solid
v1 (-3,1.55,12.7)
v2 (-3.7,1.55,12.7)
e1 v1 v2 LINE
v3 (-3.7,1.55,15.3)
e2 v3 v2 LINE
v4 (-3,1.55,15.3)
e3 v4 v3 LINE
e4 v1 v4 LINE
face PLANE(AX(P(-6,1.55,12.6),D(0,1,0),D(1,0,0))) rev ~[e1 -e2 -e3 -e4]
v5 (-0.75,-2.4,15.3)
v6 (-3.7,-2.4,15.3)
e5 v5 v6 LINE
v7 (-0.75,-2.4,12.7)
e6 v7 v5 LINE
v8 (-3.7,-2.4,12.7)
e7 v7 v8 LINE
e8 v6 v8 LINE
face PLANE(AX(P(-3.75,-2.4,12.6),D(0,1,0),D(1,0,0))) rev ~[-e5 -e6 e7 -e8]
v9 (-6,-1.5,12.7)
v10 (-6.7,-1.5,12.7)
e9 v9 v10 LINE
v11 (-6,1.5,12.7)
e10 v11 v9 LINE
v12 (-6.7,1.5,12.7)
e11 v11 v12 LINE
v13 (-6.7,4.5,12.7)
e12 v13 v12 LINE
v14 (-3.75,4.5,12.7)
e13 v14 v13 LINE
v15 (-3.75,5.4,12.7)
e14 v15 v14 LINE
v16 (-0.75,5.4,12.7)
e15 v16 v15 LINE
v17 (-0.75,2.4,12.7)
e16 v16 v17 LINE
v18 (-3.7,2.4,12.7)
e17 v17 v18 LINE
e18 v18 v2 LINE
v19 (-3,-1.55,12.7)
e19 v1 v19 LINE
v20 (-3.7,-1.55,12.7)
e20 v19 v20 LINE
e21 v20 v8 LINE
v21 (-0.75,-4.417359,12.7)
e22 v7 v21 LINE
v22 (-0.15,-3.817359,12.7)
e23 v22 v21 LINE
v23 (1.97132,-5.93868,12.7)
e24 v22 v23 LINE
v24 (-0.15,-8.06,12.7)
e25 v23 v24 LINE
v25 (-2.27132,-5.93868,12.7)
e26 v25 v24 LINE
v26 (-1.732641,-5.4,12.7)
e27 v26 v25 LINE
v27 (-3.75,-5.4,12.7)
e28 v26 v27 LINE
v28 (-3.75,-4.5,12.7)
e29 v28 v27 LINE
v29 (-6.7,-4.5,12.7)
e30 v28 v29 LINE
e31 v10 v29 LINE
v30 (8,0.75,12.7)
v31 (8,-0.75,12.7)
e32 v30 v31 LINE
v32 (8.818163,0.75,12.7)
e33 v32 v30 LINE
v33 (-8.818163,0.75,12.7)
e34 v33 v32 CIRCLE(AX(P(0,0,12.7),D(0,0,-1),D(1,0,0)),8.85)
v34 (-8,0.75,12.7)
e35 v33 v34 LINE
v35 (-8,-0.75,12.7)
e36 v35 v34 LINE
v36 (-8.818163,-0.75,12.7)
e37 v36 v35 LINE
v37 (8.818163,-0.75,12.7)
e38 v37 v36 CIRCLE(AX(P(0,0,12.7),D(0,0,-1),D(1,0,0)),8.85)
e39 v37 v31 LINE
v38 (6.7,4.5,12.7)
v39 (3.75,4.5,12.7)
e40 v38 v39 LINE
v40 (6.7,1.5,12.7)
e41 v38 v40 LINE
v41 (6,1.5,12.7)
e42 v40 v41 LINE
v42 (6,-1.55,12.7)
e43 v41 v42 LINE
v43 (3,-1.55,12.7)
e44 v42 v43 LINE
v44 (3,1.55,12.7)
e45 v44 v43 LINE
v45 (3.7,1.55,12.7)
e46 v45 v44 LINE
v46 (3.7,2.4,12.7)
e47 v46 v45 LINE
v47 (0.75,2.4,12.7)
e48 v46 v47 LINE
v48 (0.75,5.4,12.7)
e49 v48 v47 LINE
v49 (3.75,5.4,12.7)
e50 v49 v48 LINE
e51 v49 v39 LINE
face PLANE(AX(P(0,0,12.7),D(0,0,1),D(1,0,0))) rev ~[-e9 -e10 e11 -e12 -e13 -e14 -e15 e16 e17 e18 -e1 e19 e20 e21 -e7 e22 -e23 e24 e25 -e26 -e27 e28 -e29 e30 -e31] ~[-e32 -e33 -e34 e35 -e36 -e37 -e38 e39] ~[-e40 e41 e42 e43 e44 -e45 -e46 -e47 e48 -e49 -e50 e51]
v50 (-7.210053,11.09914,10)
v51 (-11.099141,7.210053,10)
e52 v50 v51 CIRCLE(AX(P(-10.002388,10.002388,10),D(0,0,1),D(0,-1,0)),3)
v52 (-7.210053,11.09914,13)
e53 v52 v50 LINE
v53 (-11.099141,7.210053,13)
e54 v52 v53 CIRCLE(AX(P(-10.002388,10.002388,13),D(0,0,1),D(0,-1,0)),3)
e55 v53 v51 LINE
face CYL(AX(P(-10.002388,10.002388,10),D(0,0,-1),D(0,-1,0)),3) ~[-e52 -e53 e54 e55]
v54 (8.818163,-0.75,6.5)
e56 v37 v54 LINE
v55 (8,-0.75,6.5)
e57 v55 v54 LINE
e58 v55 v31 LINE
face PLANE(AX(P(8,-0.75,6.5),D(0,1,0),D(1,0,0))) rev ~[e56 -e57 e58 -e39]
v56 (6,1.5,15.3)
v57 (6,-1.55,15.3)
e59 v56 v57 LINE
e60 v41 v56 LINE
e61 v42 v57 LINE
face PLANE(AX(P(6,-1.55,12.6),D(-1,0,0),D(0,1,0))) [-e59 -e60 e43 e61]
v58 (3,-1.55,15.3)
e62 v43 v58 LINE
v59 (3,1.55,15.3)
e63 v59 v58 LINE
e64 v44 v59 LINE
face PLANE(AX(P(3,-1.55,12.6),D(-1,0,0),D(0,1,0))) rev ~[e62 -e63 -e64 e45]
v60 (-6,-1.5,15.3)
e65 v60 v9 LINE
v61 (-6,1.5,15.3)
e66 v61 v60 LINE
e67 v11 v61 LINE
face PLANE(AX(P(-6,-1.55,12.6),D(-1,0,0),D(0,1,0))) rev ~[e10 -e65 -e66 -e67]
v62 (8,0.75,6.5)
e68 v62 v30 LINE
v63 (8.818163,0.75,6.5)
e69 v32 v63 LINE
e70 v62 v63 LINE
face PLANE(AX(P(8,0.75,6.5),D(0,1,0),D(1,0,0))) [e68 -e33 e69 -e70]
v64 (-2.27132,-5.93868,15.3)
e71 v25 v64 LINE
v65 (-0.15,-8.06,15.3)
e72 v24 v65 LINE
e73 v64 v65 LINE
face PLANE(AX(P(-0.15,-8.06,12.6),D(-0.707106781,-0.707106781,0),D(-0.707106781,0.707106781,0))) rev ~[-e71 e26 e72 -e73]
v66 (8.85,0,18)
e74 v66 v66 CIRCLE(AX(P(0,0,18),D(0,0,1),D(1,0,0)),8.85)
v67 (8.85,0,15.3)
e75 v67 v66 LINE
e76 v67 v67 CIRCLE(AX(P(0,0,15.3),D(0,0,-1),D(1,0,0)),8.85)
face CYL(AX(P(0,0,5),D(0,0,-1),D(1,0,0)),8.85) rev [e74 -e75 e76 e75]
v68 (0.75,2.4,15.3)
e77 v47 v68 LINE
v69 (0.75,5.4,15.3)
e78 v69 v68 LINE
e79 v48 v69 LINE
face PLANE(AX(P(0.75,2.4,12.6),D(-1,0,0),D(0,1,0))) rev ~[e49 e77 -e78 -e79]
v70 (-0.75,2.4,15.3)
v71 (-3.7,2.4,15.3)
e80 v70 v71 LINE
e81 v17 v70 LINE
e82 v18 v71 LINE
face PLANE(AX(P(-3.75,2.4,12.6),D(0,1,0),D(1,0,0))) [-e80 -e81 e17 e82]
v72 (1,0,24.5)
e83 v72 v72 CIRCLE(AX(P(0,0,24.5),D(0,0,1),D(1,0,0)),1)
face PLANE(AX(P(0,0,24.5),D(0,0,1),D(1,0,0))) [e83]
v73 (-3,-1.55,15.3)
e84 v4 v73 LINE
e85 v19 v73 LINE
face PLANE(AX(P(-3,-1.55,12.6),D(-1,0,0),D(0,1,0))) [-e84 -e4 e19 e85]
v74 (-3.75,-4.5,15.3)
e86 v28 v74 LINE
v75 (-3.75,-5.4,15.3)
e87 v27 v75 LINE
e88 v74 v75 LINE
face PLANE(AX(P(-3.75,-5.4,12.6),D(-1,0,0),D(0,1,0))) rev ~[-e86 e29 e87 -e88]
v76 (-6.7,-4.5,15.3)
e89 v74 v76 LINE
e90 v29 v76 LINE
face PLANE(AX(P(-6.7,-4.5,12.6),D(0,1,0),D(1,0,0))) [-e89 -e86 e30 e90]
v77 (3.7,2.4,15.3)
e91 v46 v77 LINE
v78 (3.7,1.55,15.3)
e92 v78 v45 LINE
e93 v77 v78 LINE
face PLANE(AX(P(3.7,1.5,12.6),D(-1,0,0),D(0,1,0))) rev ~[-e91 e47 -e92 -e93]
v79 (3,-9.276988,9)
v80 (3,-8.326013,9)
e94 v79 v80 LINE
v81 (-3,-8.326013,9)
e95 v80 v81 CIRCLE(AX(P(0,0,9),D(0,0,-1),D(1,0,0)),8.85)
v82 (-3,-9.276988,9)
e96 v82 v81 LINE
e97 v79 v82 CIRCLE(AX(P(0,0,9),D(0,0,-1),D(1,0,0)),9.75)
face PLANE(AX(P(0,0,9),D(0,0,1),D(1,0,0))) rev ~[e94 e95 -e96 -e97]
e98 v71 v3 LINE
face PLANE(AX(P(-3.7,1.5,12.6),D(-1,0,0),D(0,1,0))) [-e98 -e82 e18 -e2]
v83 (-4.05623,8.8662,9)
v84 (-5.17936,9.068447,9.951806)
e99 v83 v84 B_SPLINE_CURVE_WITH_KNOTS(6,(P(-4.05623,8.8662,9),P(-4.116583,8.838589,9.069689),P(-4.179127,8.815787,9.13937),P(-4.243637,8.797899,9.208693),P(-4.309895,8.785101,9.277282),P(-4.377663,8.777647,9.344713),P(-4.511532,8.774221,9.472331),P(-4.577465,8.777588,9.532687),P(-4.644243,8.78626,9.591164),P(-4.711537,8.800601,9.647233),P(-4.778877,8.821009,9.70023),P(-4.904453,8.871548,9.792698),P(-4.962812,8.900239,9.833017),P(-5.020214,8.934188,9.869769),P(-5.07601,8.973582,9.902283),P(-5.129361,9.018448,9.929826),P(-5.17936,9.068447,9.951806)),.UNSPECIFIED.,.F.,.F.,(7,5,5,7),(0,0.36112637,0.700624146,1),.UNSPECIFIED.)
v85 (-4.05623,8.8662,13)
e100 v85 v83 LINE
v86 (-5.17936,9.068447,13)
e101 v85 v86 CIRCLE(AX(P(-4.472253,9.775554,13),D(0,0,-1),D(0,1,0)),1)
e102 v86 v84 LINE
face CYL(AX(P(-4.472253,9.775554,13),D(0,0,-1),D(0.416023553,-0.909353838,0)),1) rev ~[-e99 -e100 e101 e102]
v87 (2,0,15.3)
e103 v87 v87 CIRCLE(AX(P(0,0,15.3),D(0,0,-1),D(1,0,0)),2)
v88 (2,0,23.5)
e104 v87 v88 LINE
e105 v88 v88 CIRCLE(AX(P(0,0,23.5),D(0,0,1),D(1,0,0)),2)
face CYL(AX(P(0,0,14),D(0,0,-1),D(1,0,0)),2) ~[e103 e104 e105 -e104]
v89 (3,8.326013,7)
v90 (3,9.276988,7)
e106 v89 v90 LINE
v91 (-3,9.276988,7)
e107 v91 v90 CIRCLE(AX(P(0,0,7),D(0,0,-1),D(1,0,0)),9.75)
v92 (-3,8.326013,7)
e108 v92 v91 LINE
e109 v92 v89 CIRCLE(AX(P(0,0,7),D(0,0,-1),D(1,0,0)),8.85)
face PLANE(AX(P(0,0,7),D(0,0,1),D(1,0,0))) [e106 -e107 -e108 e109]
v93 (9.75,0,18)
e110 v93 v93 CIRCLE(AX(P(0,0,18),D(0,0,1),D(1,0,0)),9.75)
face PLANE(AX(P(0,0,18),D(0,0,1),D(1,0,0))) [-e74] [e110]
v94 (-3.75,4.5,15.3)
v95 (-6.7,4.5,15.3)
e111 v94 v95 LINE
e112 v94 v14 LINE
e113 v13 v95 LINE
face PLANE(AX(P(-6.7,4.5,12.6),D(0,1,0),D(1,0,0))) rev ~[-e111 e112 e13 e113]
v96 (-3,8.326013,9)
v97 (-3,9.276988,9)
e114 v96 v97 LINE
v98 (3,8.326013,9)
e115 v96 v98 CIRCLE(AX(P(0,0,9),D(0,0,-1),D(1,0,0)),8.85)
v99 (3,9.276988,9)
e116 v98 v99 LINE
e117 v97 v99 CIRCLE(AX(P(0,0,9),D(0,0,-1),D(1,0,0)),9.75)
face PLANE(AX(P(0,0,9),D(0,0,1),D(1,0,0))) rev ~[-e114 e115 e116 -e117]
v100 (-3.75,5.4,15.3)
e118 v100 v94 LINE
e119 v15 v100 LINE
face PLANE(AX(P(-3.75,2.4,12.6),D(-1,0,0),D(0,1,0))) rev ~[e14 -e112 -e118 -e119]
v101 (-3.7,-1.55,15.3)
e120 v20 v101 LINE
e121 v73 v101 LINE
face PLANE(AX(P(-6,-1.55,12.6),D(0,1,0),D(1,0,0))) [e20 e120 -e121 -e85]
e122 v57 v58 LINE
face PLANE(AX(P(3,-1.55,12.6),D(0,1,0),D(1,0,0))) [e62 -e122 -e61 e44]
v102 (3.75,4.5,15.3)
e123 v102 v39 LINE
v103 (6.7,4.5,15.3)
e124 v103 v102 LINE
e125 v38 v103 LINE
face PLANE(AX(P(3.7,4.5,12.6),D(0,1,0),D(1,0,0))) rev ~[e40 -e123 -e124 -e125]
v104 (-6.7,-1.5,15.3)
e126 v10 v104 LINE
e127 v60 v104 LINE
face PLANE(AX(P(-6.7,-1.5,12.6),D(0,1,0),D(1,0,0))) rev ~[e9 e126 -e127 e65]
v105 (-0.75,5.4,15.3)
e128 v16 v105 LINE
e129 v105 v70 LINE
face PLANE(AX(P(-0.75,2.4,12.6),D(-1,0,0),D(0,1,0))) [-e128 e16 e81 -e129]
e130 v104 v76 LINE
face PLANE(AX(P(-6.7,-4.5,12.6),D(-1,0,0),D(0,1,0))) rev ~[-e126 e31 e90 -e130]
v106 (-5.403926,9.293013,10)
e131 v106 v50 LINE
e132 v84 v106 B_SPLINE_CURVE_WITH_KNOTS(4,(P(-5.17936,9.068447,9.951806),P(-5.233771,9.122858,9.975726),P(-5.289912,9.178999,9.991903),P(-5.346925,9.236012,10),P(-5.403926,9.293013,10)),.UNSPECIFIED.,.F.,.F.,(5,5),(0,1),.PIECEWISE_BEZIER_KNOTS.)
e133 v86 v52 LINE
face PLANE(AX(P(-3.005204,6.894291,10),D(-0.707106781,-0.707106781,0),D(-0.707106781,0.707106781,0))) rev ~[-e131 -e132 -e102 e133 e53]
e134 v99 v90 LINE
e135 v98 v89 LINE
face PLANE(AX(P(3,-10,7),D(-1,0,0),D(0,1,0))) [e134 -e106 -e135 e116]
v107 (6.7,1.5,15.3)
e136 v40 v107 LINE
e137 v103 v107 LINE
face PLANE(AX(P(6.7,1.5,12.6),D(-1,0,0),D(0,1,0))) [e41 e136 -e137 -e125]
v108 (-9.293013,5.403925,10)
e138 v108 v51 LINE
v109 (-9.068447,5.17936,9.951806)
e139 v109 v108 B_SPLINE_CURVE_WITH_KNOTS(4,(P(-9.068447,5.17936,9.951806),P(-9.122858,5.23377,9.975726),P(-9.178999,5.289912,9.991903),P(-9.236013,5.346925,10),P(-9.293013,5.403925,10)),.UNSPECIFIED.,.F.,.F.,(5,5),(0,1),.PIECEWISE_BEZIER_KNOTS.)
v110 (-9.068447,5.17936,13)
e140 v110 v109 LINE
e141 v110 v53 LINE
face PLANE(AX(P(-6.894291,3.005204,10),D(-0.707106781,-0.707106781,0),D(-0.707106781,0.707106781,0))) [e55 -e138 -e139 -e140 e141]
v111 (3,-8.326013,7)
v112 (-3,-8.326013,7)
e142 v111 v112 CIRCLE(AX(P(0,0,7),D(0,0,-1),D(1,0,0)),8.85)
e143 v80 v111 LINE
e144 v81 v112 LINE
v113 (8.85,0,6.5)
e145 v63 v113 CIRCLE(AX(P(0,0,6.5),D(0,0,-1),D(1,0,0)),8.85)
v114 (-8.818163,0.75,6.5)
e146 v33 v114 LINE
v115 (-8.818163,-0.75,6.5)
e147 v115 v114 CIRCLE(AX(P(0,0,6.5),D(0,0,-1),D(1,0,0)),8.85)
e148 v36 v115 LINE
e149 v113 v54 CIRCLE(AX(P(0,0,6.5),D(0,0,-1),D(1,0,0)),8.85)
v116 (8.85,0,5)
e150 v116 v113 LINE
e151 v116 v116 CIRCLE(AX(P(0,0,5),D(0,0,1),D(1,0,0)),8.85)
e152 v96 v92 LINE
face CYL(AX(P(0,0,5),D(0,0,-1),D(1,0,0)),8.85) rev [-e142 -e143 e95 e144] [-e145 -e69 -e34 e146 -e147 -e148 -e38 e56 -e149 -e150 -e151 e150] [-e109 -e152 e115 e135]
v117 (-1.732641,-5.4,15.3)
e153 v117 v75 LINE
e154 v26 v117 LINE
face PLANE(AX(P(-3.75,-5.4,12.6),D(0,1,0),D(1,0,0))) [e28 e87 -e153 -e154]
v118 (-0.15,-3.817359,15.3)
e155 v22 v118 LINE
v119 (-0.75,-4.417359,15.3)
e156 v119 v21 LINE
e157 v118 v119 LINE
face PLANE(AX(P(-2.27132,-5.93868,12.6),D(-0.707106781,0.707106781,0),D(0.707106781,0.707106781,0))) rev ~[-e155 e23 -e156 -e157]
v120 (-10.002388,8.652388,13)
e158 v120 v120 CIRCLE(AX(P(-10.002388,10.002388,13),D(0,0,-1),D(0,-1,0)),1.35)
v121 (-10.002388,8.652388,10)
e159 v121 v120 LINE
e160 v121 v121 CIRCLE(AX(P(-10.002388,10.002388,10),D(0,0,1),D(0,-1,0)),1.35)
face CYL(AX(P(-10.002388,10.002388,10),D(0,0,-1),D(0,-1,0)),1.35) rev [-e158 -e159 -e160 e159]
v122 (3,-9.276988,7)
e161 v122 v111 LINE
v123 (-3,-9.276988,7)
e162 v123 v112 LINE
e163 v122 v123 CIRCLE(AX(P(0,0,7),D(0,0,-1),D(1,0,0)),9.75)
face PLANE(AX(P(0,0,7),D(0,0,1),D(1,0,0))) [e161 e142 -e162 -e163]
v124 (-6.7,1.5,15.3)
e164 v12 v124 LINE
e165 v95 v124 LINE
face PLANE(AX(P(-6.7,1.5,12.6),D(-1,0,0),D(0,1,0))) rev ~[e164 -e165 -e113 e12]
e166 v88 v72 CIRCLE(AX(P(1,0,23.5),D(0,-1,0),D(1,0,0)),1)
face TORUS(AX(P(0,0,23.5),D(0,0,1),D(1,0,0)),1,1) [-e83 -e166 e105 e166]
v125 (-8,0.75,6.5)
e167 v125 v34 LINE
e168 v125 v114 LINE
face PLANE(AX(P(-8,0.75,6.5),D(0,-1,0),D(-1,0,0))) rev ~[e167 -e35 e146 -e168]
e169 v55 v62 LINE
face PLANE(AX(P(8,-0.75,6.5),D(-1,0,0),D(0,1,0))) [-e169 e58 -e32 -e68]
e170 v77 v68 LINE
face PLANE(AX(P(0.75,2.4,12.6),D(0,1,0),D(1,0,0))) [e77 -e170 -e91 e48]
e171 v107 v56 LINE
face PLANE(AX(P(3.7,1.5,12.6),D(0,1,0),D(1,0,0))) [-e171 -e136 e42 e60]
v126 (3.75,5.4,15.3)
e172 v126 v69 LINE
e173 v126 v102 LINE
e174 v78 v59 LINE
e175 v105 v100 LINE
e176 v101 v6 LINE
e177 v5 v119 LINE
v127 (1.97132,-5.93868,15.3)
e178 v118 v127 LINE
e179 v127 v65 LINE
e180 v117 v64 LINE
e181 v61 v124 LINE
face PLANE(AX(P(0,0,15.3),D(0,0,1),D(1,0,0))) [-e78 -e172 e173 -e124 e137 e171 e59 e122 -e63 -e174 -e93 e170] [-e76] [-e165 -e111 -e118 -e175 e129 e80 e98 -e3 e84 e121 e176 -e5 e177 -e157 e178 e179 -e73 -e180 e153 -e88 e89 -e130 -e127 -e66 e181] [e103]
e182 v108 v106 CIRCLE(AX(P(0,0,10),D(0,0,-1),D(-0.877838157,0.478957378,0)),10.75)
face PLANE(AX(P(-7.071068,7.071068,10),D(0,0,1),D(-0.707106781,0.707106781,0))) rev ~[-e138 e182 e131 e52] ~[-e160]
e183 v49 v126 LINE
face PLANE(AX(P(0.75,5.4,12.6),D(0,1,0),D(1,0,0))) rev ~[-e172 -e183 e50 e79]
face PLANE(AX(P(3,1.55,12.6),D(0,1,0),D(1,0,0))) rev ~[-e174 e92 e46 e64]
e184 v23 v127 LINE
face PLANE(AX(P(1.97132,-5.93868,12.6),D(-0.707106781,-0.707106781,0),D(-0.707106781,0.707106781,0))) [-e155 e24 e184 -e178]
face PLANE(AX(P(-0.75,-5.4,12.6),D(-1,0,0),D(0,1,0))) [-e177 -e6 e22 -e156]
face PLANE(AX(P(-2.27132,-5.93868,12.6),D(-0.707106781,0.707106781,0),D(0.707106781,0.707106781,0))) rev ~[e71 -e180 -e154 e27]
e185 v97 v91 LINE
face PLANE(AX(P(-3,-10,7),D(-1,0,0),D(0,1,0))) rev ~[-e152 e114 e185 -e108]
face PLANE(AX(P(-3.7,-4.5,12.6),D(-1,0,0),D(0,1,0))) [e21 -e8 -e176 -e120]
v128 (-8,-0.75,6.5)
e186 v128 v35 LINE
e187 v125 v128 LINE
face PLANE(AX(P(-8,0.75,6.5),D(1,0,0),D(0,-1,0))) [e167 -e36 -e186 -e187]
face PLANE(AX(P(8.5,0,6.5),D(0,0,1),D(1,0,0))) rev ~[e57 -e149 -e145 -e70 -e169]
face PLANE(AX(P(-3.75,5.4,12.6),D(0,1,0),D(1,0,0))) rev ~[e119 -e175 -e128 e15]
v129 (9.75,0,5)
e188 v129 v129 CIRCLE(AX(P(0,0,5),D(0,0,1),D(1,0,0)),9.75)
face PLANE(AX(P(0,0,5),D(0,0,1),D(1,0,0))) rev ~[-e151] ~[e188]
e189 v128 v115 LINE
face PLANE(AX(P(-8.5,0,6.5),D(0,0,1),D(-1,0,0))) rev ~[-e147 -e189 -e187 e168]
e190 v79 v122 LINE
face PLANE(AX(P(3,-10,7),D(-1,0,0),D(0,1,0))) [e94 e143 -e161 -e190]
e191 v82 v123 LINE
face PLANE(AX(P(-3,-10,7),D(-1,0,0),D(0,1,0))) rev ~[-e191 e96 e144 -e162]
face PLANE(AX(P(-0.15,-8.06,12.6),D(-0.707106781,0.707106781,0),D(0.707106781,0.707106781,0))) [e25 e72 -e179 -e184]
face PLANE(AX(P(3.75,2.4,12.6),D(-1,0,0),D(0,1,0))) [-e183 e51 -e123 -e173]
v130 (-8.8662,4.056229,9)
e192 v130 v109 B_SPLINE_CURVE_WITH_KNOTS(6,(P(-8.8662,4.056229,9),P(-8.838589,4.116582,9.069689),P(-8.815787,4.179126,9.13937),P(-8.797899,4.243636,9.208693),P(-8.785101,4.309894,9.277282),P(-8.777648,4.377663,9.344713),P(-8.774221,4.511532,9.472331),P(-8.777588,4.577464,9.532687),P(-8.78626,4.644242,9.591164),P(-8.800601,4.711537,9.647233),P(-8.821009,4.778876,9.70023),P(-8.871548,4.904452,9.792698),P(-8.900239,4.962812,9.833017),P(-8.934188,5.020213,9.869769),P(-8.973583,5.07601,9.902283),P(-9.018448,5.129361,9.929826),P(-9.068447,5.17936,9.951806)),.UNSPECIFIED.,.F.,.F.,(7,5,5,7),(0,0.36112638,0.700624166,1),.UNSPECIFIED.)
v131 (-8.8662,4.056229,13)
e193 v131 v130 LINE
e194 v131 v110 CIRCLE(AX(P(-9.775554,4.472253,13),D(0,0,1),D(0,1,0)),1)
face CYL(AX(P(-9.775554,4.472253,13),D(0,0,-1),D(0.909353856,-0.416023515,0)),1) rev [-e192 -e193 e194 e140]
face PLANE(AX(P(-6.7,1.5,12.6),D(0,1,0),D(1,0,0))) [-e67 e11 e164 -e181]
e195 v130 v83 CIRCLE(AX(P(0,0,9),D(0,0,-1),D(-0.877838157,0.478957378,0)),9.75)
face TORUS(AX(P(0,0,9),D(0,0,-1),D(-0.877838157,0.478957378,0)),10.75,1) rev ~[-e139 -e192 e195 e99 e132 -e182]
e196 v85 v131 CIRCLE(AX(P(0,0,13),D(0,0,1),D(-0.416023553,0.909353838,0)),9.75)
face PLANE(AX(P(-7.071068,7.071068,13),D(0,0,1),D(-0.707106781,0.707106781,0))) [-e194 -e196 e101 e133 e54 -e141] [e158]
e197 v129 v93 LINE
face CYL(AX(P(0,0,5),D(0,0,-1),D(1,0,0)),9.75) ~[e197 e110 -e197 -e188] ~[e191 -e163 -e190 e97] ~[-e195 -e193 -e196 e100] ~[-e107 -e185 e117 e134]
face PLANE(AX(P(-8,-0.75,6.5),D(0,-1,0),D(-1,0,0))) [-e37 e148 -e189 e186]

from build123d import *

# Parameters (mm, degrees)
BOX006_W               = 6
BOX006_H               = 20
BOX006_DEPTH           = 2
CYLINDER022_R          = 8.85
CYLINDER022_DEPTH      = 15
CYLINDER019_R          = 1.35
CYLINDER019_DEPTH      = 5
CYLINDER002_R          = 3
CYLINDER002_DEPTH      = 3
CYLINDER018_R          = 8.85
CYLINDER018_DEPTH      = 13
CYLINDER017_R          = 9.75
CYLINDER017_DEPTH      = 13
BOX_W                  = 6
BOX_H                  = 5.5
BOX_DEPTH              = 3
BOX_PLACEMENT_ANGLE    = 135
BOX005_W               = 1
BOX005_H               = 1.5
BOX005_DEPTH           = 7.7
BOX004_W               = 1
BOX004_H               = 1.5
BOX004_DEPTH           = 7.7
FILLET003_R            = 1
BOX015_W               = 3
BOX015_H               = 3
BOX015_DEPTH           = 2.8
BOX016_W               = 3
BOX016_H               = 3.1
BOX016_DEPTH           = 2.8
BOX014_W               = 3
BOX014_H               = 3
BOX014_DEPTH           = 2.8
BOX013_W               = 3
BOX013_H               = 3
BOX013_DEPTH           = 2.8
BOX012_W               = 3
BOX012_H               = 3.1
BOX012_DEPTH           = 2.8
BOX011_W               = 3
BOX011_H               = 3
BOX011_DEPTH           = 2.8
BOX010_W               = 3
BOX010_H               = 3
BOX010_DEPTH           = 2.8
BOX009_W               = 3
BOX009_H               = 3
BOX009_DEPTH           = 2.8
BOX009_PLACEMENT_ANGLE = 45
BOX017_W               = 3
BOX017_H               = 3
BOX017_DEPTH           = 2.8
CYLINDER044_R          = 9
CYLINDER044_DEPTH      = 2.6
CYLINDER001_R          = 2
CYLINDER001_DEPTH      = 10.5
FILLET_R               = 1


with BuildPart() as cube006:
    # Box006 → Box006 (new body)
    with BuildSketch(Plane(origin=(-3, -10, -3), x_dir=(1, 0, 0), z_dir=(0, 0, 1))):
        with Locations((3, 10)):
            Rectangle(BOX006_W, BOX006_H)
    extrude(amount=BOX006_DEPTH)


with BuildPart() as cylinder022:
    # Cylinder022 → Cylinder022 (new body)
    with BuildSketch(Plane.XY.offset(-6)):
        Circle(CYLINDER022_R)
    extrude(amount=CYLINDER022_DEPTH)


with BuildPart() as cylinder019:
    # Cylinder019 → Cylinder019 (new body)
    with BuildSketch(Plane(origin=(-10.002388, 10.002388, 0), x_dir=(0, -1, 0), z_dir=(0, 0, 1))):
        Circle(CYLINDER019_R)
    extrude(amount=CYLINDER019_DEPTH)


with BuildPart() as attachement_point:
    # Cylinder002 → Cylinder002 (new body)
    with BuildSketch(Plane(origin=(-10.002388, 10.002388, 0), x_dir=(0, -1, 0), z_dir=(0, 0, 1))):
        Circle(CYLINDER002_R)
    extrude(amount=CYLINDER002_DEPTH)


with BuildPart() as negative:
    # Cylinder018 → Cylinder018 (new body)
    with BuildSketch(Plane.XY.offset(-5)):
        Circle(CYLINDER018_R)
    extrude(amount=CYLINDER018_DEPTH)


with BuildPart() as outer_wall:
    # Cylinder017 → Cylinder017 (new body)
    with BuildSketch(Plane.XY.offset(-5)):
        Circle(CYLINDER017_R)
    extrude(amount=CYLINDER017_DEPTH)

    # Cut008: cut Negative
    add(negative.part, mode=Mode.SUBTRACT)


with BuildPart() as connect:
    # Box → Box (new body)
    with BuildSketch(Plane.XY):
        with Locations((3, 2.75)):
            Rectangle(BOX_W, BOX_H)
    extrude(amount=BOX_DEPTH)


with BuildPart() as connect_1:
    # Box placement: moved
    add(connect.part.moved(Location((-3.005204, 6.894291, 0))).rotate(Axis((-3.005204, 6.894291, 0), (0, 0, 1)), BOX_PLACEMENT_ANGLE))

    # Fusion008: union Attachement Point, Outer Wall
    add(attachement_point.part)
    add(outer_wall.part)

    # Cut: cut Cylinder019
    add(cylinder019.part, mode=Mode.SUBTRACT)

    # Cut009: cut Cylinder022
    add(cylinder022.part, mode=Mode.SUBTRACT)


with BuildPart() as cube005:
    # Box005 → Box005 (new body)
    with BuildSketch(Plane(origin=(-8, 0.75, -3.5), x_dir=(-1, 0, 0), z_dir=(0, 0, 1))):
        with Locations((0.5, 0.75)):
            Rectangle(BOX005_W, BOX005_H)
    extrude(amount=BOX005_DEPTH)


with BuildPart() as fillet003:
    # Box004 → Box004 (new body)
    with BuildSketch(Plane(origin=(8, -0.75, -3.5), x_dir=(1, 0, 0), z_dir=(0, 0, 1))):
        with Locations((0.5, 0.75)):
            Rectangle(BOX004_W, BOX004_H)
    extrude(amount=BOX004_DEPTH)

    # Fusion: union Cube005
    add(cube005.part)

    # Fusion024: union Connect
    add(connect_1.part)

    # Cut013012: cut Cube006
    add(cube006.part, mode=Mode.SUBTRACT)

    # Fillet003
    fillet003_edges = [fillet003.edges().sort_by_distance(p)[0] for p in [
        (-6.894291, 6.894291, 0),
        (-4.669835, 8.558922, 1.5),
        (-8.558922, 4.669835, 1.5),
    ]]
    fillet(fillet003_edges, radius=FILLET003_R)


with BuildPart() as cube015:
    # Box015 → Box015 (new body)
    with BuildSketch(Plane(origin=(3.7, 1.5, 2.6), x_dir=(1, 0, 0), z_dir=(0, 0, 1))):
        with Locations((1.5, 1.5)):
            Rectangle(BOX015_W, BOX015_H)
    extrude(amount=BOX015_DEPTH)


with BuildPart() as cube016:
    # Box016 → Box016 (new body)
    with BuildSketch(Plane(origin=(3, -1.55, 2.6), x_dir=(1, 0, 0), z_dir=(0, 0, 1))):
        with Locations((1.5, 1.55)):
            Rectangle(BOX016_W, BOX016_H)
    extrude(amount=BOX016_DEPTH)


with BuildPart() as fusion027:
    # Box014 → Box014 (new body)
    with BuildSketch(Plane(origin=(0.75, 2.4, 2.6), x_dir=(1, 0, 0), z_dir=(0, 0, 1))):
        with Locations((1.5, 1.5)):
            Rectangle(BOX014_W, BOX014_H)
    extrude(amount=BOX014_DEPTH)

    # Fusion027: union Cube015, Cube016
    add(cube015.part)
    add(cube016.part)


with BuildPart() as cube013:
    # Box013 → Box013 (new body)
    with BuildSketch(Plane(origin=(-6.7, 1.5, 2.6), x_dir=(1, 0, 0), z_dir=(0, 0, 1))):
        with Locations((1.5, 1.5)):
            Rectangle(BOX013_W, BOX013_H)
    extrude(amount=BOX013_DEPTH)


with BuildPart() as cube012:
    # Box012 → Box012 (new body)
    with BuildSketch(Plane(origin=(-6, -1.55, 2.6), x_dir=(1, 0, 0), z_dir=(0, 0, 1))):
        with Locations((1.5, 1.55)):
            Rectangle(BOX012_W, BOX012_H)
    extrude(amount=BOX012_DEPTH)


with BuildPart() as cube011:
    # Box011 → Box011 (new body)
    with BuildSketch(Plane(origin=(-6.7, -4.5, 2.6), x_dir=(1, 0, 0), z_dir=(0, 0, 1))):
        with Locations((1.5, 1.5)):
            Rectangle(BOX011_W, BOX011_H)
    extrude(amount=BOX011_DEPTH)


with BuildPart() as cube010:
    # Box010 → Box010 (new body)
    with BuildSketch(Plane(origin=(-3.75, -5.4, 2.6), x_dir=(1, 0, 0), z_dir=(0, 0, 1))):
        with Locations((1.5, 1.5)):
            Rectangle(BOX010_W, BOX010_H)
    extrude(amount=BOX010_DEPTH)


with BuildPart() as cube009:
    # Box009 → Box009 (new body)
    with BuildSketch(Plane.XY):
        with Locations((1.5, 1.5)):
            Rectangle(BOX009_W, BOX009_H)
    extrude(amount=BOX009_DEPTH)


with BuildPart() as cube009_1:
    # Box009 placement: moved
    add(cube009.part.moved(Location((-0.15, -8.06, 2.6))).rotate(Axis((-0.15, -8.06, 2.6), (0, 0, 1)), BOX009_PLACEMENT_ANGLE))


with BuildPart() as compound:
    # Box017 → Box017 (new body)
    with BuildSketch(Plane(origin=(-3.75, 2.4, 2.6), x_dir=(1, 0, 0), z_dir=(0, 0, 1))):
        with Locations((1.5, 1.5)):
            Rectangle(BOX017_W, BOX017_H)
    extrude(amount=BOX017_DEPTH)

    # Fusion026: union Cube013, Cube012, Cube011, Cube010, Cube009
    add(cube013.part)
    add(cube012.part)
    add(cube011.part)
    add(cube010.part)
    add(cube009_1.part)

    # Compound: union Fusion027
    add(fusion027.part)


with BuildPart() as cut013013:
    # Cylinder044 → Cylinder044 (new body)
    with BuildSketch(Plane.XY.offset(2.7)):
        Circle(CYLINDER044_R)
    extrude(amount=CYLINDER044_DEPTH)

    # Cut013013: cut Compound
    add(compound.part, mode=Mode.SUBTRACT)


with BuildPart() as connector_base:
    # Cylinder001 → Cylinder001 (new body)
    with BuildSketch(Plane.XY.offset(4)):
        Circle(CYLINDER001_R)
    extrude(amount=CYLINDER001_DEPTH)

    # Fillet
    fillet_edges = [connector_base.edges().sort_by_distance(p)[0] for p in [
        (-2, 0, 14.5),
    ]]
    fillet(fillet_edges, radius=FILLET_R)

    # Fusion023: union Cut013013
    add(cut013013.part)

    # Fusion025: union Fillet003
    add(fillet003.part)


with BuildPart() as connector_base_1:
    # Fusion025 placement: moved
    add(connector_base.part.moved(Location((0, 0, 10))))


solid = connector_base_1.part
